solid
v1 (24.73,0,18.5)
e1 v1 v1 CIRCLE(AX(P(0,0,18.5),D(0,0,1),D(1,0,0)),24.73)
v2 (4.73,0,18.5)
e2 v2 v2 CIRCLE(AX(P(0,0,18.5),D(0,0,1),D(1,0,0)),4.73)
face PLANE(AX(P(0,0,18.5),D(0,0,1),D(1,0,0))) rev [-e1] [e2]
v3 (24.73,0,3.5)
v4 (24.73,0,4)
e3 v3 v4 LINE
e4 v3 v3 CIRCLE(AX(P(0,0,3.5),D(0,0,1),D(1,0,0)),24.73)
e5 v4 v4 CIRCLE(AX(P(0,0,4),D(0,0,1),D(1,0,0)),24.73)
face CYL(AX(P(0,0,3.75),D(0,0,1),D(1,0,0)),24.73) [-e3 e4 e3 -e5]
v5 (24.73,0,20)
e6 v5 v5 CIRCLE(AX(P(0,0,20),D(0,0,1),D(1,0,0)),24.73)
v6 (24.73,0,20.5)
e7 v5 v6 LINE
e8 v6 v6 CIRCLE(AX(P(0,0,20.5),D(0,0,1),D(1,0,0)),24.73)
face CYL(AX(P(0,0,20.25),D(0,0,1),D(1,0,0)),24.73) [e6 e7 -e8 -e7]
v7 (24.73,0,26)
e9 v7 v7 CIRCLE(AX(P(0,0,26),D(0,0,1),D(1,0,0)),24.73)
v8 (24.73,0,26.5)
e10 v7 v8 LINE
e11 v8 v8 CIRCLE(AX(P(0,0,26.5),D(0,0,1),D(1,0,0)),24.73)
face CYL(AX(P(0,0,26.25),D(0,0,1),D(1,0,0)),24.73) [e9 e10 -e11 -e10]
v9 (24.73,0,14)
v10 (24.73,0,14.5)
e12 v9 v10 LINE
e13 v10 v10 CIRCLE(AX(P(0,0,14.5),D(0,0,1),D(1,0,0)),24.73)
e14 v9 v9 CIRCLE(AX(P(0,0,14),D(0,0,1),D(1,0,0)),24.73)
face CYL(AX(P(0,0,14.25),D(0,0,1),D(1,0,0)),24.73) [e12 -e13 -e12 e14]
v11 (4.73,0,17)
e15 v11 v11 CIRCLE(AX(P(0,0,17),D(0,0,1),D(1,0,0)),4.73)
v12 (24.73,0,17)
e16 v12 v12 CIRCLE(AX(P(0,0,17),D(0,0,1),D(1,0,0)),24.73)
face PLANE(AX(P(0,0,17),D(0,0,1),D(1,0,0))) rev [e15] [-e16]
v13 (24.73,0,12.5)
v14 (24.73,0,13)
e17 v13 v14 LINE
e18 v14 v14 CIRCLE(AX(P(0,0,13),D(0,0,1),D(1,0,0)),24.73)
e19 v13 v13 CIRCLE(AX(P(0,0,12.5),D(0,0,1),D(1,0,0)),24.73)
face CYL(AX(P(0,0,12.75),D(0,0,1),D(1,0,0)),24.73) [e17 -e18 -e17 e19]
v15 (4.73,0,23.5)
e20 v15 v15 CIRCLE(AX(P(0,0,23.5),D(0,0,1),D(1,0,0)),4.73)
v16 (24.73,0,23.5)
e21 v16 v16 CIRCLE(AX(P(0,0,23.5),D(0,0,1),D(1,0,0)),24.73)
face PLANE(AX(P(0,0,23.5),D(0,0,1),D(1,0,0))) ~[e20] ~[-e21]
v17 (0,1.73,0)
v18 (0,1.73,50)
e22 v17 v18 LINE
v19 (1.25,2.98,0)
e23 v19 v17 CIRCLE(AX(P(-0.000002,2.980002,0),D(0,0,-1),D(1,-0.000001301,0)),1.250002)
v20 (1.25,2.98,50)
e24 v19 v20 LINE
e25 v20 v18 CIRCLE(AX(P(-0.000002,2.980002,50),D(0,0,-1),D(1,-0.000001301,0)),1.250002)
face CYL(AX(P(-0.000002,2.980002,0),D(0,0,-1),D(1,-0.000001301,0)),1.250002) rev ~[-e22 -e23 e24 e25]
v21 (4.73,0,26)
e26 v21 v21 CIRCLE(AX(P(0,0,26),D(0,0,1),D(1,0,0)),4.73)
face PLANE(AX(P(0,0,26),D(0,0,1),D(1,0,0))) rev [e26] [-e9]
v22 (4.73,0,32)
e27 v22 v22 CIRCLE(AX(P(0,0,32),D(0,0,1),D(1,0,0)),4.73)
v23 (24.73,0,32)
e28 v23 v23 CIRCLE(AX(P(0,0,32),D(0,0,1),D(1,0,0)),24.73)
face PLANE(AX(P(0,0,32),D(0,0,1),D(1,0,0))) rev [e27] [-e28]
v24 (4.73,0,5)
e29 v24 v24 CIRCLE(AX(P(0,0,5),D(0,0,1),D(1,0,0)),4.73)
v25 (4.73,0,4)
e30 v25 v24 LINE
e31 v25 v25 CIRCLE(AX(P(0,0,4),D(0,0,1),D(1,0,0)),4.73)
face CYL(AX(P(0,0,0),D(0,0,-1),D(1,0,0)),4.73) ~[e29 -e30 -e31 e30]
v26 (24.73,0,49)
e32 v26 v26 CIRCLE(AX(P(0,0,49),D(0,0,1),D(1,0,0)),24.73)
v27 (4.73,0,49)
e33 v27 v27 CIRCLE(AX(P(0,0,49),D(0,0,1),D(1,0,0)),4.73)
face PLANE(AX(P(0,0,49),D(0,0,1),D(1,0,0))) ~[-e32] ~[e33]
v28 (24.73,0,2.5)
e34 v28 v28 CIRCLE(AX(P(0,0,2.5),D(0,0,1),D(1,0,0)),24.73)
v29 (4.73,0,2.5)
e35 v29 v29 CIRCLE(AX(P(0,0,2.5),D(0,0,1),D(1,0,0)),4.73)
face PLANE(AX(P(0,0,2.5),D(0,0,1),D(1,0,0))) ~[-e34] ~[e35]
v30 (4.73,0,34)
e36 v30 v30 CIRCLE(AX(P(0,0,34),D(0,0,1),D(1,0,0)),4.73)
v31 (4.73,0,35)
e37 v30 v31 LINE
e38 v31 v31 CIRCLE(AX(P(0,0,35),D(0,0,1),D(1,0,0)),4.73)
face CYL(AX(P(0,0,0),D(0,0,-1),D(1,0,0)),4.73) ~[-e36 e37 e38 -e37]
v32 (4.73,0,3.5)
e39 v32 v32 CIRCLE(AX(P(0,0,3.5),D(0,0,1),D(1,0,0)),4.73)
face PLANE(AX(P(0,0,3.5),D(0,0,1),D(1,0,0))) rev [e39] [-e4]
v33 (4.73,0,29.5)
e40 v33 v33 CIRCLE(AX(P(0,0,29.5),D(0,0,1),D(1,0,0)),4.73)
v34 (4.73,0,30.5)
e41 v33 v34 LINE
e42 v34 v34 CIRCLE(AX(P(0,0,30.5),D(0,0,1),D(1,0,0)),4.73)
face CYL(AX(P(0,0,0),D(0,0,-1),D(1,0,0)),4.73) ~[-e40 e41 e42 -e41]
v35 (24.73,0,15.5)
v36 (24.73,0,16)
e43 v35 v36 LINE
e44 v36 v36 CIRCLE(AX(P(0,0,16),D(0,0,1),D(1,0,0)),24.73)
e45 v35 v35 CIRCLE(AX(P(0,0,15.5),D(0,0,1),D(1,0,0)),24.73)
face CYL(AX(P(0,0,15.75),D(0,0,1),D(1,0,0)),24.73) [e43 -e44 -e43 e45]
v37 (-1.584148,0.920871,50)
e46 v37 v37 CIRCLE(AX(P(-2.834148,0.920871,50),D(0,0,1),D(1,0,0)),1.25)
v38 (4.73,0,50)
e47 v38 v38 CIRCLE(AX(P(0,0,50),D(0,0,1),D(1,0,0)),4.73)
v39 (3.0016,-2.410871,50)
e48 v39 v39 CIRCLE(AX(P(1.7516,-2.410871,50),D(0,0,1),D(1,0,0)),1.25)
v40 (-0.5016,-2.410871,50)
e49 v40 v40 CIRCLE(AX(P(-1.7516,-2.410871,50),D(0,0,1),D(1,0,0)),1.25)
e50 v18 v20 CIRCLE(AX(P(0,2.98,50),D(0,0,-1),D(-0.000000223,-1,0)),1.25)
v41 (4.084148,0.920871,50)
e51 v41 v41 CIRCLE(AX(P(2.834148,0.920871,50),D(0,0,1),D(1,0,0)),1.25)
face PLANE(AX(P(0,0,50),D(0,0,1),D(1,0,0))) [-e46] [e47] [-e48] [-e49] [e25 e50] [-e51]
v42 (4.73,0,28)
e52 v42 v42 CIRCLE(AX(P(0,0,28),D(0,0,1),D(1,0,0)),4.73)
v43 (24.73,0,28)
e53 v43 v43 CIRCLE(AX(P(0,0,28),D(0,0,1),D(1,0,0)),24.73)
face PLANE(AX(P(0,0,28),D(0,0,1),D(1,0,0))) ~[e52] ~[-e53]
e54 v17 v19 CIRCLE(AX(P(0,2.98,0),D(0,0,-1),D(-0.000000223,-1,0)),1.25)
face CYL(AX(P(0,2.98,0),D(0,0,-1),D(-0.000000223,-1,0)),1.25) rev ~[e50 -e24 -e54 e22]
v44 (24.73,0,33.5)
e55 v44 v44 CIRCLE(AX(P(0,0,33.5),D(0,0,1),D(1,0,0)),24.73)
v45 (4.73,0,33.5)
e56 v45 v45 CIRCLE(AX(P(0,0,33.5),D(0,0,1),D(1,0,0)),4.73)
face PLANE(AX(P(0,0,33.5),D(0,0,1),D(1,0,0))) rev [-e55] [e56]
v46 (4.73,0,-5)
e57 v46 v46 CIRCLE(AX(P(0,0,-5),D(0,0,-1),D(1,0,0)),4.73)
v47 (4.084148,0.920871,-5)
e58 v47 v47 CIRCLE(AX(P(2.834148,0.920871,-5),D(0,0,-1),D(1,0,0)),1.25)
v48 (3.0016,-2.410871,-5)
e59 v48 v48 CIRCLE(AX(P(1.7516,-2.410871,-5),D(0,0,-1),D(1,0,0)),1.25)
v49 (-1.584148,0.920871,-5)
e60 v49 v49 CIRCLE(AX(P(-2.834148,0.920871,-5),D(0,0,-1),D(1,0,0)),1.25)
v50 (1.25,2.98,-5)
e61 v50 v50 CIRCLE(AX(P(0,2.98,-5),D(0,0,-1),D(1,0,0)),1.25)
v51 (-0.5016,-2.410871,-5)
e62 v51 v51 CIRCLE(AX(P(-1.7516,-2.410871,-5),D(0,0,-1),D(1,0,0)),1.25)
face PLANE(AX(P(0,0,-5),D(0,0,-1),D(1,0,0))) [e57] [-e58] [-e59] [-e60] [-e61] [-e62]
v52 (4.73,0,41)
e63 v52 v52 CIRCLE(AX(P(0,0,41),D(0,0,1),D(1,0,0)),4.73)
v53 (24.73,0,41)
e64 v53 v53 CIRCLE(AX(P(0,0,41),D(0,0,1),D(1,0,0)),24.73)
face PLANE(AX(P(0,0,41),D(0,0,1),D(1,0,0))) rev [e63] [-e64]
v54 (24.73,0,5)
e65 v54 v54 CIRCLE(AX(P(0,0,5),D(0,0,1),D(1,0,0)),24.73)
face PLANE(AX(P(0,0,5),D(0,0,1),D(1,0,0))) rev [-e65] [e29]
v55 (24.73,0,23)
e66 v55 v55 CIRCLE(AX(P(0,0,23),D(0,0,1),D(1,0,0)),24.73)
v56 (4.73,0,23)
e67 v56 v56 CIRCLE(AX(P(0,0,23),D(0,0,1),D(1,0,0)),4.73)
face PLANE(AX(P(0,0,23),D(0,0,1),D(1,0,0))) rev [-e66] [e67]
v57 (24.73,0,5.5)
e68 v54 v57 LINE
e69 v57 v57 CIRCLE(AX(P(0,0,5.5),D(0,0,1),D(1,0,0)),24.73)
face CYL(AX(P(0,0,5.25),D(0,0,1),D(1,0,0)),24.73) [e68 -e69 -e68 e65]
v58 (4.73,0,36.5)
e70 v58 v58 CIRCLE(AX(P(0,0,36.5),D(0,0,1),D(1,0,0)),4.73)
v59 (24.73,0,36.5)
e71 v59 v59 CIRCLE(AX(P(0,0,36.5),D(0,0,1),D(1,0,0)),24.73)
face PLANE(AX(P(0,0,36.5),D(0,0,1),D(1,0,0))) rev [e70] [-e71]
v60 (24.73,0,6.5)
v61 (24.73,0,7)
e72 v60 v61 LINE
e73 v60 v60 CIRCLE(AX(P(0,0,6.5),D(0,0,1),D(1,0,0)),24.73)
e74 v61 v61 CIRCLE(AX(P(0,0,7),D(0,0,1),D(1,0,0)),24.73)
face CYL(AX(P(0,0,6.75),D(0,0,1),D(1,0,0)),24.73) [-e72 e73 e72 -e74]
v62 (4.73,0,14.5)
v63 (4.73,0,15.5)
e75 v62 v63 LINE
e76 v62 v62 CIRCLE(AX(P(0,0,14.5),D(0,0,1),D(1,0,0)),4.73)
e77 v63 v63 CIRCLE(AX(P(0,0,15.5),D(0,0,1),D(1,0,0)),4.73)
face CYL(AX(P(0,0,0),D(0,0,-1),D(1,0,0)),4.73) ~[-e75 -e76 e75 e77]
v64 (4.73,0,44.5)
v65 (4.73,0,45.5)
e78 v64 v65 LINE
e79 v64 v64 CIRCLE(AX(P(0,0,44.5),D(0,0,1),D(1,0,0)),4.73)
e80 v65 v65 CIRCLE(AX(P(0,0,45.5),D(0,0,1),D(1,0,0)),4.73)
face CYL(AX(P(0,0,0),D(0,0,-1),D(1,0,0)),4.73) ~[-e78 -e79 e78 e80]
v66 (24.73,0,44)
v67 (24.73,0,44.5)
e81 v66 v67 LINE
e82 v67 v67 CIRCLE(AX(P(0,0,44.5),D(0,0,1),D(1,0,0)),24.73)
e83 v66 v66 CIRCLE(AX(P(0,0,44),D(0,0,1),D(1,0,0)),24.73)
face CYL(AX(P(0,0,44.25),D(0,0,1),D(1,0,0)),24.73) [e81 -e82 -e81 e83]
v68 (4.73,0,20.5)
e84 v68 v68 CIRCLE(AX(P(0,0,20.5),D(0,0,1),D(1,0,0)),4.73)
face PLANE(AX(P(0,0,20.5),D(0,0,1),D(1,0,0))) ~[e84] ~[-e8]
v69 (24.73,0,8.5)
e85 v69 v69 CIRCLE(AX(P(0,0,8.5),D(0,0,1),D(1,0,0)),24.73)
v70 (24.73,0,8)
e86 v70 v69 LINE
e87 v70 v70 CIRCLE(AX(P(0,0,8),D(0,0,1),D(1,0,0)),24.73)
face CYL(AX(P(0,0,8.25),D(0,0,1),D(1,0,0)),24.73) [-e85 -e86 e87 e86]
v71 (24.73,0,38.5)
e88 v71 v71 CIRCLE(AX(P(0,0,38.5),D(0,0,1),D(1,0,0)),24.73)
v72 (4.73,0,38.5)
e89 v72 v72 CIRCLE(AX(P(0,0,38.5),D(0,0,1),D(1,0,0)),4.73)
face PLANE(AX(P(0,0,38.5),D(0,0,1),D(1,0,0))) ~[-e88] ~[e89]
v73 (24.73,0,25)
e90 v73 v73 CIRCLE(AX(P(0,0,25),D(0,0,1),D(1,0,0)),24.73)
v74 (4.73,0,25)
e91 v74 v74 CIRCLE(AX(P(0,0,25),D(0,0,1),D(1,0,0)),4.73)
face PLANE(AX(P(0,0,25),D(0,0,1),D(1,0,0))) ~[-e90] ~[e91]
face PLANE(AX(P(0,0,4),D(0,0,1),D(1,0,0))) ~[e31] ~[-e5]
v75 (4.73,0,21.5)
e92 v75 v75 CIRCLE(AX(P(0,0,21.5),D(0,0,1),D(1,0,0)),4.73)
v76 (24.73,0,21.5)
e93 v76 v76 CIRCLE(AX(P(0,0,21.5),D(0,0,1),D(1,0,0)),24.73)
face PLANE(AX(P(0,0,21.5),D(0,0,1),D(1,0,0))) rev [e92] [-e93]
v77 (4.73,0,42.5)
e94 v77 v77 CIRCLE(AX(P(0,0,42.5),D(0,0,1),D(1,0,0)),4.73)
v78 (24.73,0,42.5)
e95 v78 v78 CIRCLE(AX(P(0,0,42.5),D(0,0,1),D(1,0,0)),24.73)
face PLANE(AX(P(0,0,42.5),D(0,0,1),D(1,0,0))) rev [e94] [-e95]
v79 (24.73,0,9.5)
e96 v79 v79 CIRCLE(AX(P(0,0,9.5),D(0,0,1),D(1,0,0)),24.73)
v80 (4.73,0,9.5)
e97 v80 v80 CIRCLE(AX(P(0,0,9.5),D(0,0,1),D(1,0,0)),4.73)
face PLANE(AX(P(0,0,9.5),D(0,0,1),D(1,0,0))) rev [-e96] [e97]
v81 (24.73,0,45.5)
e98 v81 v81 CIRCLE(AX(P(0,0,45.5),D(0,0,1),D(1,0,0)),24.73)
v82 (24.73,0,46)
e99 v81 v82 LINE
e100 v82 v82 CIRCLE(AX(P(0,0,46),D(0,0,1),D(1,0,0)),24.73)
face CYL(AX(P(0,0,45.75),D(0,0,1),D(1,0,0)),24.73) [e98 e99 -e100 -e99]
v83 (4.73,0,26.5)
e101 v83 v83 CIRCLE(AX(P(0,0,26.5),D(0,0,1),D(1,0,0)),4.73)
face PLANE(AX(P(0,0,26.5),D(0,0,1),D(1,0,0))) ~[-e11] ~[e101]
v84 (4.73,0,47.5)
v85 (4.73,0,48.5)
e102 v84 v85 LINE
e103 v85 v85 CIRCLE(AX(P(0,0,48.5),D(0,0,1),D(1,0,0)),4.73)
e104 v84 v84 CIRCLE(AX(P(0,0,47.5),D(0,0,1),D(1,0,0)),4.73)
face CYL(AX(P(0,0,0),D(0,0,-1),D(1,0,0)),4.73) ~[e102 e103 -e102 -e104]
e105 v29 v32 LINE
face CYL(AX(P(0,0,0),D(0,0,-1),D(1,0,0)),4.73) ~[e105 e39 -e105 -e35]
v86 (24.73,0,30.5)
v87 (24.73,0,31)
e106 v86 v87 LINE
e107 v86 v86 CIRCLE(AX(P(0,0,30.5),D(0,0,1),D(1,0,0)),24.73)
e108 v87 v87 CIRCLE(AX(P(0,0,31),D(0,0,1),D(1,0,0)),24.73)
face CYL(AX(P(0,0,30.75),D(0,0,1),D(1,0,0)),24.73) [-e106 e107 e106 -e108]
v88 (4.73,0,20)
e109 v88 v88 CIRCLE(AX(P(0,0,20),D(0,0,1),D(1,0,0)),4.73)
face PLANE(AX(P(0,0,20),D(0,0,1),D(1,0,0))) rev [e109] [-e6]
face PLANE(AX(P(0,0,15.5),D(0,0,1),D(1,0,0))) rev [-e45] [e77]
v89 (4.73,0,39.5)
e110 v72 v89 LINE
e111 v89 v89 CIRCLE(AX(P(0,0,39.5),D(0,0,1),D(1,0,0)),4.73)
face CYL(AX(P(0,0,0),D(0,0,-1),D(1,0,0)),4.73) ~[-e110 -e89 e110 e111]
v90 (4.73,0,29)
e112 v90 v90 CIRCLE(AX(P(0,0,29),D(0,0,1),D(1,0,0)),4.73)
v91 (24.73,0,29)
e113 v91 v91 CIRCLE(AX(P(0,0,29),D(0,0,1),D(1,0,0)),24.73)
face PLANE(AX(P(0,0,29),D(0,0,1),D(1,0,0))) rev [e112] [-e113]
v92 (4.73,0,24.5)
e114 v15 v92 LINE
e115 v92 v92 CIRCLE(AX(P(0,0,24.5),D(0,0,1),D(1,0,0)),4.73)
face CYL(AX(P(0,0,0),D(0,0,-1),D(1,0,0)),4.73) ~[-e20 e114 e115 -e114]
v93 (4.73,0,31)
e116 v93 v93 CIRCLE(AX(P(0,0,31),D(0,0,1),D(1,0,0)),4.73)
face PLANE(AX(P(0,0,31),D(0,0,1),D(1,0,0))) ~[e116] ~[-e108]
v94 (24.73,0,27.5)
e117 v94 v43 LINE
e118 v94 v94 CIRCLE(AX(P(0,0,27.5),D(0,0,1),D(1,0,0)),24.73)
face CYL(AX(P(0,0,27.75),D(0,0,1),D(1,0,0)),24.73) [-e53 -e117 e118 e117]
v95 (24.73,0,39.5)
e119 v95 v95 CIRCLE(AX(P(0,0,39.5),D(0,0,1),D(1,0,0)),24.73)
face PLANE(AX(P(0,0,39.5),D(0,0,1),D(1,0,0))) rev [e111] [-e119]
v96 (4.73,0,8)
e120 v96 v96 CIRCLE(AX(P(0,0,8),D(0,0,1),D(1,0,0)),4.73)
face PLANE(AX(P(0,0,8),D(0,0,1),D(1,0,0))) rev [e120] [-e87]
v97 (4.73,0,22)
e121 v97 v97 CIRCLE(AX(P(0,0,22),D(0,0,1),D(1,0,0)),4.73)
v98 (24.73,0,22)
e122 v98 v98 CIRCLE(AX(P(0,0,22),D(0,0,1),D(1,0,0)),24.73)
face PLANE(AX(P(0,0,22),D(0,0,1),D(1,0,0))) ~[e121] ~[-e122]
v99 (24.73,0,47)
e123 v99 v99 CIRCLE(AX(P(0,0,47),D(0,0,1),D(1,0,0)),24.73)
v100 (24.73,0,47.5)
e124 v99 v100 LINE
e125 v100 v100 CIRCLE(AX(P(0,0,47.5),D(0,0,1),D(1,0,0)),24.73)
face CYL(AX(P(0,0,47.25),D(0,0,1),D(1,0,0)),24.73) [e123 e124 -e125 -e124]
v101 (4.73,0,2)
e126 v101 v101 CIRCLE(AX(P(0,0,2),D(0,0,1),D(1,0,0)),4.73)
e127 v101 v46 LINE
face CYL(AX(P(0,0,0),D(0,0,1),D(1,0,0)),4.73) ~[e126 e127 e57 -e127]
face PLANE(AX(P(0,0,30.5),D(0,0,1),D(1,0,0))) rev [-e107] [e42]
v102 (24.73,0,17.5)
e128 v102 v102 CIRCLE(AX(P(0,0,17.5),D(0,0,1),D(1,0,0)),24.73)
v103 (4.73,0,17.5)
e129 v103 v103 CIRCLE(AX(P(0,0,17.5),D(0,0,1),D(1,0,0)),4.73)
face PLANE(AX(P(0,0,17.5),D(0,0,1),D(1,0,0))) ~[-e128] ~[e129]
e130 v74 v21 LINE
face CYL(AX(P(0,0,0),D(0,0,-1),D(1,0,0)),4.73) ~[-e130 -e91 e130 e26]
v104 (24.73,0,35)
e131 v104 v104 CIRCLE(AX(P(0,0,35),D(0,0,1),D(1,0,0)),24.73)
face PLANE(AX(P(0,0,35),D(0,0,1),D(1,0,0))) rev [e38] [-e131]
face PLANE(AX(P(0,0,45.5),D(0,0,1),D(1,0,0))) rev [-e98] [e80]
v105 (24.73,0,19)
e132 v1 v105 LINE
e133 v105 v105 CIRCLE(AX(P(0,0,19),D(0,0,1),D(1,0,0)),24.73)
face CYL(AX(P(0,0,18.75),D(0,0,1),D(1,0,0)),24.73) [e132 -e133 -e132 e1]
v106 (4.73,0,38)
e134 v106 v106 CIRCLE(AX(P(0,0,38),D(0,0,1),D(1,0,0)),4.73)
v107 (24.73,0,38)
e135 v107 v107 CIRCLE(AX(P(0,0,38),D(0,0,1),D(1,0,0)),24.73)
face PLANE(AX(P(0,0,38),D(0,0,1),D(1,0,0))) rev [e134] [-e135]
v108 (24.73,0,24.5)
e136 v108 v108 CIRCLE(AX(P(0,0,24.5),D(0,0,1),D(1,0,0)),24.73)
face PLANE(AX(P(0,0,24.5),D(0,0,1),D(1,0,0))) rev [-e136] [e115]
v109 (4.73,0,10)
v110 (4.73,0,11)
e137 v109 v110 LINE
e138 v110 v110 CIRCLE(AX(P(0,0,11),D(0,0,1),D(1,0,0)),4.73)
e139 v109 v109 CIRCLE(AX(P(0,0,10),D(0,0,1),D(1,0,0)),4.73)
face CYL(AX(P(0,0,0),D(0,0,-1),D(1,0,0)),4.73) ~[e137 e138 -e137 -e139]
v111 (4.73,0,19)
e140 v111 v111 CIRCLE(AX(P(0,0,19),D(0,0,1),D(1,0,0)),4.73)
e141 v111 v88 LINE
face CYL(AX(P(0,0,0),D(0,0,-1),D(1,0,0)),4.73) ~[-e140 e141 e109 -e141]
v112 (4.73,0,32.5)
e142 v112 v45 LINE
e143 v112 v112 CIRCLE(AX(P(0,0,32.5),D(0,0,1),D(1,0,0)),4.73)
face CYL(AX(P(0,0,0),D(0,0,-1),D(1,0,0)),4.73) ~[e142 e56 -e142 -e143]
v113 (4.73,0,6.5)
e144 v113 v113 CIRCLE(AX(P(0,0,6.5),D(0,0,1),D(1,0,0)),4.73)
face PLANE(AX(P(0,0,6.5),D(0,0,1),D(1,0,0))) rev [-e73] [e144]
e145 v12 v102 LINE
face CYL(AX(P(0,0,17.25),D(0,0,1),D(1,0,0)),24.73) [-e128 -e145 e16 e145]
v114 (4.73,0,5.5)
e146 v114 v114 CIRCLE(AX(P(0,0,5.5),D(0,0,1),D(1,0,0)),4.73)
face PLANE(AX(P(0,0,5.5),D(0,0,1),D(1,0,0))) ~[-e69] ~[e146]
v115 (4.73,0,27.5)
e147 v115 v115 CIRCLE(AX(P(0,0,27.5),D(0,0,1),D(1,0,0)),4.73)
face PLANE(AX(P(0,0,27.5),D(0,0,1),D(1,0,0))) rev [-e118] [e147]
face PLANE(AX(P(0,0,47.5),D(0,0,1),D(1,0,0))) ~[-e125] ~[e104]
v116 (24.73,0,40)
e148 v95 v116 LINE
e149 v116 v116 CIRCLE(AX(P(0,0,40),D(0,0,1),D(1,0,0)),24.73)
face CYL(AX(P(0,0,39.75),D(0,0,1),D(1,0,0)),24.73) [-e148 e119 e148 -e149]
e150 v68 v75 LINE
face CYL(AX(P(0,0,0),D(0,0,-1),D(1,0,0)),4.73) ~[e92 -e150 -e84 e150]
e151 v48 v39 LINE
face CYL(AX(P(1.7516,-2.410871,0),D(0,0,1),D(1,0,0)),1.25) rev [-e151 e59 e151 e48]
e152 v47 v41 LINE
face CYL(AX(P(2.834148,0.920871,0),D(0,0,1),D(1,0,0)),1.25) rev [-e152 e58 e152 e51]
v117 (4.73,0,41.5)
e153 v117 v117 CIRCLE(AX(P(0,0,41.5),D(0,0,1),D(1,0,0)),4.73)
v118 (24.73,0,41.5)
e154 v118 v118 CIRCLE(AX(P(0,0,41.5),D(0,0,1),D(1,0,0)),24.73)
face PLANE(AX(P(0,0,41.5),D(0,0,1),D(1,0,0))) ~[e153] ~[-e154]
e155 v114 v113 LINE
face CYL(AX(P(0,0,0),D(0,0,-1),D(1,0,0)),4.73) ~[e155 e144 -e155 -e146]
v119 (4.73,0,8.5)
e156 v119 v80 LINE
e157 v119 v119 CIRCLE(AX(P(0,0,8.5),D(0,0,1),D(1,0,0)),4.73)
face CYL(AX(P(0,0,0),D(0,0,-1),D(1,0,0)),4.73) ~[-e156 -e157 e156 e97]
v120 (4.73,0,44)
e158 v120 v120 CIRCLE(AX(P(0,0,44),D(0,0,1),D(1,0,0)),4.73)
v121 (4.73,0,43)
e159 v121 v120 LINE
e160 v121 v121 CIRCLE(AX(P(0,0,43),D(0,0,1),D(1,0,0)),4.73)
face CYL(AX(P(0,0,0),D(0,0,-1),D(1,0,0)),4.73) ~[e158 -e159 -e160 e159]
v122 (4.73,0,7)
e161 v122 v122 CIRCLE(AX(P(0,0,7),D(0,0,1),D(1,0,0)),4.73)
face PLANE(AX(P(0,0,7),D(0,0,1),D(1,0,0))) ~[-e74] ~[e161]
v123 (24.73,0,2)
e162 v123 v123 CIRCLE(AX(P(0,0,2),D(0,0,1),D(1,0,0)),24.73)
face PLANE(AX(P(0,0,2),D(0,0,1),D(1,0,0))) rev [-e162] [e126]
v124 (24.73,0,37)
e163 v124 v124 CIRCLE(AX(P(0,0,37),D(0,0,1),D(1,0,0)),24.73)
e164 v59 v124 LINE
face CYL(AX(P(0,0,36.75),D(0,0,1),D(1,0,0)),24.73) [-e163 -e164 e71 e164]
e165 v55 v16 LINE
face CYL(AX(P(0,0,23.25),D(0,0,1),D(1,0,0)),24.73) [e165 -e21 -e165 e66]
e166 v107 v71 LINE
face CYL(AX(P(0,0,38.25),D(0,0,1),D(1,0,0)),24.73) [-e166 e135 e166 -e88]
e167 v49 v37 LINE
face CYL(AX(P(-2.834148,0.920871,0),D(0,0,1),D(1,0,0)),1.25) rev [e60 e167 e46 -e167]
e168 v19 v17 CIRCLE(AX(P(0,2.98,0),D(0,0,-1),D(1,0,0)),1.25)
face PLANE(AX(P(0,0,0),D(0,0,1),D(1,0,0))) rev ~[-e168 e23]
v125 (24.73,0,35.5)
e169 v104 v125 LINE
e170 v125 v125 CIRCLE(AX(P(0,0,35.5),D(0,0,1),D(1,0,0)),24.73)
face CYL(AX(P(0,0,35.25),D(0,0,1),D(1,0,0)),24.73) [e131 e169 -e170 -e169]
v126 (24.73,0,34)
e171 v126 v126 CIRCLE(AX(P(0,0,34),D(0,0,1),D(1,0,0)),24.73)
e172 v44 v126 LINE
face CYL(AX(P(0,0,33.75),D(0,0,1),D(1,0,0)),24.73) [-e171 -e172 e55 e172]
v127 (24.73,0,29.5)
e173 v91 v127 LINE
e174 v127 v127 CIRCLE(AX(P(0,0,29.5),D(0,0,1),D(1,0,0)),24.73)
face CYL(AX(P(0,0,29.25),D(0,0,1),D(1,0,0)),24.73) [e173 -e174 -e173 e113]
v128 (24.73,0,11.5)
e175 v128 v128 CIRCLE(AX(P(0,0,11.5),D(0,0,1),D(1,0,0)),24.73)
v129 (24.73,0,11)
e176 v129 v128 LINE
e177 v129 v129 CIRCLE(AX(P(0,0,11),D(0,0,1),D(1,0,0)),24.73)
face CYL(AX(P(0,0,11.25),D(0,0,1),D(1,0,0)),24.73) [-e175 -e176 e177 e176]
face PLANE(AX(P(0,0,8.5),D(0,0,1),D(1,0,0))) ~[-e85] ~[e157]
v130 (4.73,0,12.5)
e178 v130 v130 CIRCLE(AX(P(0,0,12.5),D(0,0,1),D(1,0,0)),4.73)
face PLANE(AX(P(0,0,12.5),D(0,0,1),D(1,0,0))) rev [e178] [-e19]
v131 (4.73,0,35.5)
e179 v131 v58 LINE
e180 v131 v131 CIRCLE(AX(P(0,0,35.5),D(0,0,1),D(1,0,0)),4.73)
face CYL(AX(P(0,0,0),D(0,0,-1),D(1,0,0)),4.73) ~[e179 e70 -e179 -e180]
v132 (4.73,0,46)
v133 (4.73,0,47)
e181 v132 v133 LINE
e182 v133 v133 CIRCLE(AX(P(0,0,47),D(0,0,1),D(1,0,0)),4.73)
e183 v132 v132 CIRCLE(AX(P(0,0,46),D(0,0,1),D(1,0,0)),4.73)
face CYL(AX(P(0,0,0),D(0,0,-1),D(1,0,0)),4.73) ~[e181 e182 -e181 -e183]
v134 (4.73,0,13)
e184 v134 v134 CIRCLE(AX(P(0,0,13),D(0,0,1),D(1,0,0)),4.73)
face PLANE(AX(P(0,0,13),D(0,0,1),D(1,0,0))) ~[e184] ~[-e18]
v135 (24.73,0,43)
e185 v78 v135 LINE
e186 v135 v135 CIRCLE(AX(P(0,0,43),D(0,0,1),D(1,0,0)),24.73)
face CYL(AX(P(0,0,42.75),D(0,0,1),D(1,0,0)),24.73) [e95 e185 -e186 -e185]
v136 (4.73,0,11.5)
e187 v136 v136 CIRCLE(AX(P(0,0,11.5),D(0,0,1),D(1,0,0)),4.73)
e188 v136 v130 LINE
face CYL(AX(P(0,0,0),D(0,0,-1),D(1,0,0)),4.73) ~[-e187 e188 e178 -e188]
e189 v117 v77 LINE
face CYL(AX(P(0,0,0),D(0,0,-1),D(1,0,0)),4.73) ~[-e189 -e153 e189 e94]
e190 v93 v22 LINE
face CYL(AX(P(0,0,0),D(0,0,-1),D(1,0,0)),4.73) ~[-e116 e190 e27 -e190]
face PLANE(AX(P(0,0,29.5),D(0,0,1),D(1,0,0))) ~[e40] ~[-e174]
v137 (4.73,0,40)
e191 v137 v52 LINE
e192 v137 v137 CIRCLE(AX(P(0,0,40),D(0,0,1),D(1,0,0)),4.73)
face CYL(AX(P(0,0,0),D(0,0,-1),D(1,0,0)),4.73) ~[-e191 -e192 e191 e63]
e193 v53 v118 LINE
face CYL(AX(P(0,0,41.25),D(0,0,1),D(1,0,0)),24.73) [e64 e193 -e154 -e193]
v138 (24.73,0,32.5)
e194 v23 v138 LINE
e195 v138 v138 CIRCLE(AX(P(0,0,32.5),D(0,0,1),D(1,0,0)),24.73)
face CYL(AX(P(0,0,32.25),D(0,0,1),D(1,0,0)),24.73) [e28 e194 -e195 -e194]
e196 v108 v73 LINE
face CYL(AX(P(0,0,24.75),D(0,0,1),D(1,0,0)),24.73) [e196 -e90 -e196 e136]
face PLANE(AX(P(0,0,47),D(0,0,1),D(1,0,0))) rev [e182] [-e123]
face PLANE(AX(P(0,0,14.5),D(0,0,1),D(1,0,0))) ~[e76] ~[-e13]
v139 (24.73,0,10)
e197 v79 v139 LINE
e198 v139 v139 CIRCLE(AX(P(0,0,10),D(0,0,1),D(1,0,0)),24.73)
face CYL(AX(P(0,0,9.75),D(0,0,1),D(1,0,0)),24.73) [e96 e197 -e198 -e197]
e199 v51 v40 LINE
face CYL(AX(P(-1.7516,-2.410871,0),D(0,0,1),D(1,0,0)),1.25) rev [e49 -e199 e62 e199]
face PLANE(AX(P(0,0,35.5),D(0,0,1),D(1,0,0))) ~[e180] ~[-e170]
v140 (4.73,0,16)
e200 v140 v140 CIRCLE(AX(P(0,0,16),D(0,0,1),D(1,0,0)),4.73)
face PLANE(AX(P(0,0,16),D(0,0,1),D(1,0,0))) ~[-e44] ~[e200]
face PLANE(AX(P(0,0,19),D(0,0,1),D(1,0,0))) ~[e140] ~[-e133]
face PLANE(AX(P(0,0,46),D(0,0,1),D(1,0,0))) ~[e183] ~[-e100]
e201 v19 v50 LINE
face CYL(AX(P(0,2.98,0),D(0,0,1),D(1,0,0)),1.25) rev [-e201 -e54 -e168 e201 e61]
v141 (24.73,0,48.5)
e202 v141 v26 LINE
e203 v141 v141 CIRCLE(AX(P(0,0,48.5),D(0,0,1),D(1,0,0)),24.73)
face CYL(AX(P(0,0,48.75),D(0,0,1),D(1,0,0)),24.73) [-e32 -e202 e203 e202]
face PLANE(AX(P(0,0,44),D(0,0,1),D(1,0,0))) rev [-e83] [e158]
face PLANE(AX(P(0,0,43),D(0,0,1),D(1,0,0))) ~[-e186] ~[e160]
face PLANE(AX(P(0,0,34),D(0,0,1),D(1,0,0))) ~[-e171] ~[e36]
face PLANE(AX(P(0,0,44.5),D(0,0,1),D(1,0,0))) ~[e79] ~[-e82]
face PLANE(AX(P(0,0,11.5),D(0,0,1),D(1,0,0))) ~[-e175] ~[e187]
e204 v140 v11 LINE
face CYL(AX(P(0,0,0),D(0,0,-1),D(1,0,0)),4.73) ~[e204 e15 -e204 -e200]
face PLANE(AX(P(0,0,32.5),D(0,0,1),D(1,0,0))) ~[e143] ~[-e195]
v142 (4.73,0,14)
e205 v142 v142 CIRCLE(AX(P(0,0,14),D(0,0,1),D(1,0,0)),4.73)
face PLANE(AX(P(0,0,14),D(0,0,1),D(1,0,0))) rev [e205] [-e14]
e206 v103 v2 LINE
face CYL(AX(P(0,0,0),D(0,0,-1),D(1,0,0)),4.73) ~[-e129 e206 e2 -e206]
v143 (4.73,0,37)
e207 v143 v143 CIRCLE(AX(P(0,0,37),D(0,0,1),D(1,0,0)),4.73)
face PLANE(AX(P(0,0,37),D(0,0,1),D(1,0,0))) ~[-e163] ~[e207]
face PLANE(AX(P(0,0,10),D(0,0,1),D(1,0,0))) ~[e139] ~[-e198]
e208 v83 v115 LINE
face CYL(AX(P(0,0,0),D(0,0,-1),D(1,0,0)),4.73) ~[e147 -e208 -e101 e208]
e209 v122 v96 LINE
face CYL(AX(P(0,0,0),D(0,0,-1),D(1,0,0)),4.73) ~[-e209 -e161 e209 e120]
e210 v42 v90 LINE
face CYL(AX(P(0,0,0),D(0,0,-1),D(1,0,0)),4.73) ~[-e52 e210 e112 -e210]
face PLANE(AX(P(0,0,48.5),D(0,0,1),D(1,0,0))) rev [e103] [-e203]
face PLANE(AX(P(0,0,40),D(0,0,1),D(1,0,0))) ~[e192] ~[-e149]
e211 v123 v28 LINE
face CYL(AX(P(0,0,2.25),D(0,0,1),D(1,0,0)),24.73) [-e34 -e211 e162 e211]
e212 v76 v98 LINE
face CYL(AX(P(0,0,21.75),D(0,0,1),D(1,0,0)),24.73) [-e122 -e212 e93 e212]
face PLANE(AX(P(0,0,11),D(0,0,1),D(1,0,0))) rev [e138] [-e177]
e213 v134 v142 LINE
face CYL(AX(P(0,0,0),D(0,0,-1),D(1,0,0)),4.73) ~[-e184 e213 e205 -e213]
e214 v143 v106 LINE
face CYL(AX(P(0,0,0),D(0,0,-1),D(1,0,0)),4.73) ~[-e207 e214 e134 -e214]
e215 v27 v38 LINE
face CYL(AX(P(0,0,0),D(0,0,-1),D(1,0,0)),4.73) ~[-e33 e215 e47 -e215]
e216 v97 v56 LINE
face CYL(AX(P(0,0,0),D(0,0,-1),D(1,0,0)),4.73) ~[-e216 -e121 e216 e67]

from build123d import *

# Parameters (mm, degrees)
F0_R        = 4.73
F0_R_2      = 1.25
F1_DEPTH    = 50
F2_W        = 20
F2_H        = 0.5
F1_FACE_R   = 4.73
F1_FACE_R_2 = 1.25
F5_DEPTH    = 5


with BuildPart() as f1:
    # F0 (on Top) → F1 (new body)
    with BuildSketch(Plane.XY):
        Circle(F0_R)
        with Locations((-1.7516, -2.410871)):
            Circle(F0_R_2, mode=Mode.SUBTRACT)
        with Locations((1.7516, -2.410871)):
            Circle(F0_R_2, mode=Mode.SUBTRACT)
        with Locations((-2.834148, 0.920871)):
            Circle(F0_R_2, mode=Mode.SUBTRACT)
        with Locations((2.834148, 0.920871)):
            Circle(F0_R_2, mode=Mode.SUBTRACT)
        with BuildLine():
            ThreePointArc((0, 1.73), (-0.883883, 3.863883), (1.25, 2.98))
            ThreePointArc((1.25, 2.98), (0.883883, 2.096117), (0, 1.73))
        make_face(mode=Mode.SUBTRACT)
    extrude(amount=F1_DEPTH)

    # F2 (on Front) → F3 (revolve)
    with BuildSketch(Plane.XZ):
        with Locations((14.73, 2.25)):
            Rectangle(F2_W, F2_H)
        with Locations((14.73, 3.75)):
            Rectangle(F2_W, F2_H)
        with Locations((14.73, 5.25)):
            Rectangle(F2_W, F2_H)
        with Locations((14.73, 6.75)):
            Rectangle(F2_W, F2_H)
        with Locations((14.73, 8.25)):
            Rectangle(F2_W, F2_H)
        with Locations((14.73, 9.75)):
            Rectangle(F2_W, F2_H)
        with Locations((14.73, 11.25)):
            Rectangle(F2_W, F2_H)
        with Locations((14.73, 12.75)):
            Rectangle(F2_W, F2_H)
        with Locations((14.73, 14.25)):
            Rectangle(F2_W, F2_H)
        with Locations((14.73, 15.75)):
            Rectangle(F2_W, F2_H)
        with Locations((14.73, 17.25)):
            Rectangle(F2_W, F2_H)
        with Locations((14.73, 18.75)):
            Rectangle(F2_W, F2_H)
        with Locations((14.73, 36.75)):
            Rectangle(F2_W, F2_H)
        with Locations((14.73, 38.25)):
            Rectangle(F2_W, F2_H)
        with Locations((14.73, 39.75)):
            Rectangle(F2_W, F2_H)
        with Locations((14.73, 41.25)):
            Rectangle(F2_W, F2_H)
        with Locations((14.73, 42.75)):
            Rectangle(F2_W, F2_H)
        with Locations((14.73, 44.25)):
            Rectangle(F2_W, F2_H)
        with Locations((14.73, 26.25)):
            Rectangle(F2_W, F2_H)
        with Locations((14.73, 27.75)):
            Rectangle(F2_W, F2_H)
        with Locations((14.73, 29.25)):
            Rectangle(F2_W, F2_H)
        with Locations((14.73, 21.75)):
            Rectangle(F2_W, F2_H)
        with Locations((14.73, 23.25)):
            Rectangle(F2_W, F2_H)
        with Locations((14.73, 20.25)):
            Rectangle(F2_W, F2_H)
        with Locations((14.73, 30.75)):
            Rectangle(F2_W, F2_H)
        with Locations((14.73, 32.25)):
            Rectangle(F2_W, F2_H)
        with Locations((14.73, 33.75)):
            Rectangle(F2_W, F2_H)
        with Locations((14.73, 35.25)):
            Rectangle(F2_W, F2_H)
        with Locations((14.73, 45.75)):
            Rectangle(F2_W, F2_H)
        with Locations((14.73, 24.75)):
            Rectangle(F2_W, F2_H)
    revolve(axis=Axis((0, 0, 30.401131), (0, 0, 1)))

    # F2 (on Front) → F4 (revolve)
    with BuildSketch(Plane.XZ):
        with Locations((14.73, 48.75)):
            Rectangle(F2_W, F2_H)
        with Locations((14.73, 47.25)):
            Rectangle(F2_W, F2_H)
    revolve(axis=Axis((0, 0, 30.401131), (0, 0, 1)))

    # F1_face (on face) → F5 (join)
    with BuildSketch(Plane(origin=(0, 0, 0), x_dir=(1, 0, 0), z_dir=(0, 0, -1))):
        Circle(F1_FACE_R)
        with Locations((-1.7516, 2.410871)):
            Circle(F1_FACE_R_2, mode=Mode.SUBTRACT)
        with Locations((1.7516, 2.410871)):
            Circle(F1_FACE_R_2, mode=Mode.SUBTRACT)
        with Locations((-2.834148, -0.920871)):
            Circle(F1_FACE_R_2, mode=Mode.SUBTRACT)
        with Locations((2.834148, -0.920871)):
            Circle(F1_FACE_R_2, mode=Mode.SUBTRACT)
        with Locations((0, -2.98)):
            Circle(F1_FACE_R_2, mode=Mode.SUBTRACT)
    extrude(amount=F5_DEPTH)


solid = f1.part
